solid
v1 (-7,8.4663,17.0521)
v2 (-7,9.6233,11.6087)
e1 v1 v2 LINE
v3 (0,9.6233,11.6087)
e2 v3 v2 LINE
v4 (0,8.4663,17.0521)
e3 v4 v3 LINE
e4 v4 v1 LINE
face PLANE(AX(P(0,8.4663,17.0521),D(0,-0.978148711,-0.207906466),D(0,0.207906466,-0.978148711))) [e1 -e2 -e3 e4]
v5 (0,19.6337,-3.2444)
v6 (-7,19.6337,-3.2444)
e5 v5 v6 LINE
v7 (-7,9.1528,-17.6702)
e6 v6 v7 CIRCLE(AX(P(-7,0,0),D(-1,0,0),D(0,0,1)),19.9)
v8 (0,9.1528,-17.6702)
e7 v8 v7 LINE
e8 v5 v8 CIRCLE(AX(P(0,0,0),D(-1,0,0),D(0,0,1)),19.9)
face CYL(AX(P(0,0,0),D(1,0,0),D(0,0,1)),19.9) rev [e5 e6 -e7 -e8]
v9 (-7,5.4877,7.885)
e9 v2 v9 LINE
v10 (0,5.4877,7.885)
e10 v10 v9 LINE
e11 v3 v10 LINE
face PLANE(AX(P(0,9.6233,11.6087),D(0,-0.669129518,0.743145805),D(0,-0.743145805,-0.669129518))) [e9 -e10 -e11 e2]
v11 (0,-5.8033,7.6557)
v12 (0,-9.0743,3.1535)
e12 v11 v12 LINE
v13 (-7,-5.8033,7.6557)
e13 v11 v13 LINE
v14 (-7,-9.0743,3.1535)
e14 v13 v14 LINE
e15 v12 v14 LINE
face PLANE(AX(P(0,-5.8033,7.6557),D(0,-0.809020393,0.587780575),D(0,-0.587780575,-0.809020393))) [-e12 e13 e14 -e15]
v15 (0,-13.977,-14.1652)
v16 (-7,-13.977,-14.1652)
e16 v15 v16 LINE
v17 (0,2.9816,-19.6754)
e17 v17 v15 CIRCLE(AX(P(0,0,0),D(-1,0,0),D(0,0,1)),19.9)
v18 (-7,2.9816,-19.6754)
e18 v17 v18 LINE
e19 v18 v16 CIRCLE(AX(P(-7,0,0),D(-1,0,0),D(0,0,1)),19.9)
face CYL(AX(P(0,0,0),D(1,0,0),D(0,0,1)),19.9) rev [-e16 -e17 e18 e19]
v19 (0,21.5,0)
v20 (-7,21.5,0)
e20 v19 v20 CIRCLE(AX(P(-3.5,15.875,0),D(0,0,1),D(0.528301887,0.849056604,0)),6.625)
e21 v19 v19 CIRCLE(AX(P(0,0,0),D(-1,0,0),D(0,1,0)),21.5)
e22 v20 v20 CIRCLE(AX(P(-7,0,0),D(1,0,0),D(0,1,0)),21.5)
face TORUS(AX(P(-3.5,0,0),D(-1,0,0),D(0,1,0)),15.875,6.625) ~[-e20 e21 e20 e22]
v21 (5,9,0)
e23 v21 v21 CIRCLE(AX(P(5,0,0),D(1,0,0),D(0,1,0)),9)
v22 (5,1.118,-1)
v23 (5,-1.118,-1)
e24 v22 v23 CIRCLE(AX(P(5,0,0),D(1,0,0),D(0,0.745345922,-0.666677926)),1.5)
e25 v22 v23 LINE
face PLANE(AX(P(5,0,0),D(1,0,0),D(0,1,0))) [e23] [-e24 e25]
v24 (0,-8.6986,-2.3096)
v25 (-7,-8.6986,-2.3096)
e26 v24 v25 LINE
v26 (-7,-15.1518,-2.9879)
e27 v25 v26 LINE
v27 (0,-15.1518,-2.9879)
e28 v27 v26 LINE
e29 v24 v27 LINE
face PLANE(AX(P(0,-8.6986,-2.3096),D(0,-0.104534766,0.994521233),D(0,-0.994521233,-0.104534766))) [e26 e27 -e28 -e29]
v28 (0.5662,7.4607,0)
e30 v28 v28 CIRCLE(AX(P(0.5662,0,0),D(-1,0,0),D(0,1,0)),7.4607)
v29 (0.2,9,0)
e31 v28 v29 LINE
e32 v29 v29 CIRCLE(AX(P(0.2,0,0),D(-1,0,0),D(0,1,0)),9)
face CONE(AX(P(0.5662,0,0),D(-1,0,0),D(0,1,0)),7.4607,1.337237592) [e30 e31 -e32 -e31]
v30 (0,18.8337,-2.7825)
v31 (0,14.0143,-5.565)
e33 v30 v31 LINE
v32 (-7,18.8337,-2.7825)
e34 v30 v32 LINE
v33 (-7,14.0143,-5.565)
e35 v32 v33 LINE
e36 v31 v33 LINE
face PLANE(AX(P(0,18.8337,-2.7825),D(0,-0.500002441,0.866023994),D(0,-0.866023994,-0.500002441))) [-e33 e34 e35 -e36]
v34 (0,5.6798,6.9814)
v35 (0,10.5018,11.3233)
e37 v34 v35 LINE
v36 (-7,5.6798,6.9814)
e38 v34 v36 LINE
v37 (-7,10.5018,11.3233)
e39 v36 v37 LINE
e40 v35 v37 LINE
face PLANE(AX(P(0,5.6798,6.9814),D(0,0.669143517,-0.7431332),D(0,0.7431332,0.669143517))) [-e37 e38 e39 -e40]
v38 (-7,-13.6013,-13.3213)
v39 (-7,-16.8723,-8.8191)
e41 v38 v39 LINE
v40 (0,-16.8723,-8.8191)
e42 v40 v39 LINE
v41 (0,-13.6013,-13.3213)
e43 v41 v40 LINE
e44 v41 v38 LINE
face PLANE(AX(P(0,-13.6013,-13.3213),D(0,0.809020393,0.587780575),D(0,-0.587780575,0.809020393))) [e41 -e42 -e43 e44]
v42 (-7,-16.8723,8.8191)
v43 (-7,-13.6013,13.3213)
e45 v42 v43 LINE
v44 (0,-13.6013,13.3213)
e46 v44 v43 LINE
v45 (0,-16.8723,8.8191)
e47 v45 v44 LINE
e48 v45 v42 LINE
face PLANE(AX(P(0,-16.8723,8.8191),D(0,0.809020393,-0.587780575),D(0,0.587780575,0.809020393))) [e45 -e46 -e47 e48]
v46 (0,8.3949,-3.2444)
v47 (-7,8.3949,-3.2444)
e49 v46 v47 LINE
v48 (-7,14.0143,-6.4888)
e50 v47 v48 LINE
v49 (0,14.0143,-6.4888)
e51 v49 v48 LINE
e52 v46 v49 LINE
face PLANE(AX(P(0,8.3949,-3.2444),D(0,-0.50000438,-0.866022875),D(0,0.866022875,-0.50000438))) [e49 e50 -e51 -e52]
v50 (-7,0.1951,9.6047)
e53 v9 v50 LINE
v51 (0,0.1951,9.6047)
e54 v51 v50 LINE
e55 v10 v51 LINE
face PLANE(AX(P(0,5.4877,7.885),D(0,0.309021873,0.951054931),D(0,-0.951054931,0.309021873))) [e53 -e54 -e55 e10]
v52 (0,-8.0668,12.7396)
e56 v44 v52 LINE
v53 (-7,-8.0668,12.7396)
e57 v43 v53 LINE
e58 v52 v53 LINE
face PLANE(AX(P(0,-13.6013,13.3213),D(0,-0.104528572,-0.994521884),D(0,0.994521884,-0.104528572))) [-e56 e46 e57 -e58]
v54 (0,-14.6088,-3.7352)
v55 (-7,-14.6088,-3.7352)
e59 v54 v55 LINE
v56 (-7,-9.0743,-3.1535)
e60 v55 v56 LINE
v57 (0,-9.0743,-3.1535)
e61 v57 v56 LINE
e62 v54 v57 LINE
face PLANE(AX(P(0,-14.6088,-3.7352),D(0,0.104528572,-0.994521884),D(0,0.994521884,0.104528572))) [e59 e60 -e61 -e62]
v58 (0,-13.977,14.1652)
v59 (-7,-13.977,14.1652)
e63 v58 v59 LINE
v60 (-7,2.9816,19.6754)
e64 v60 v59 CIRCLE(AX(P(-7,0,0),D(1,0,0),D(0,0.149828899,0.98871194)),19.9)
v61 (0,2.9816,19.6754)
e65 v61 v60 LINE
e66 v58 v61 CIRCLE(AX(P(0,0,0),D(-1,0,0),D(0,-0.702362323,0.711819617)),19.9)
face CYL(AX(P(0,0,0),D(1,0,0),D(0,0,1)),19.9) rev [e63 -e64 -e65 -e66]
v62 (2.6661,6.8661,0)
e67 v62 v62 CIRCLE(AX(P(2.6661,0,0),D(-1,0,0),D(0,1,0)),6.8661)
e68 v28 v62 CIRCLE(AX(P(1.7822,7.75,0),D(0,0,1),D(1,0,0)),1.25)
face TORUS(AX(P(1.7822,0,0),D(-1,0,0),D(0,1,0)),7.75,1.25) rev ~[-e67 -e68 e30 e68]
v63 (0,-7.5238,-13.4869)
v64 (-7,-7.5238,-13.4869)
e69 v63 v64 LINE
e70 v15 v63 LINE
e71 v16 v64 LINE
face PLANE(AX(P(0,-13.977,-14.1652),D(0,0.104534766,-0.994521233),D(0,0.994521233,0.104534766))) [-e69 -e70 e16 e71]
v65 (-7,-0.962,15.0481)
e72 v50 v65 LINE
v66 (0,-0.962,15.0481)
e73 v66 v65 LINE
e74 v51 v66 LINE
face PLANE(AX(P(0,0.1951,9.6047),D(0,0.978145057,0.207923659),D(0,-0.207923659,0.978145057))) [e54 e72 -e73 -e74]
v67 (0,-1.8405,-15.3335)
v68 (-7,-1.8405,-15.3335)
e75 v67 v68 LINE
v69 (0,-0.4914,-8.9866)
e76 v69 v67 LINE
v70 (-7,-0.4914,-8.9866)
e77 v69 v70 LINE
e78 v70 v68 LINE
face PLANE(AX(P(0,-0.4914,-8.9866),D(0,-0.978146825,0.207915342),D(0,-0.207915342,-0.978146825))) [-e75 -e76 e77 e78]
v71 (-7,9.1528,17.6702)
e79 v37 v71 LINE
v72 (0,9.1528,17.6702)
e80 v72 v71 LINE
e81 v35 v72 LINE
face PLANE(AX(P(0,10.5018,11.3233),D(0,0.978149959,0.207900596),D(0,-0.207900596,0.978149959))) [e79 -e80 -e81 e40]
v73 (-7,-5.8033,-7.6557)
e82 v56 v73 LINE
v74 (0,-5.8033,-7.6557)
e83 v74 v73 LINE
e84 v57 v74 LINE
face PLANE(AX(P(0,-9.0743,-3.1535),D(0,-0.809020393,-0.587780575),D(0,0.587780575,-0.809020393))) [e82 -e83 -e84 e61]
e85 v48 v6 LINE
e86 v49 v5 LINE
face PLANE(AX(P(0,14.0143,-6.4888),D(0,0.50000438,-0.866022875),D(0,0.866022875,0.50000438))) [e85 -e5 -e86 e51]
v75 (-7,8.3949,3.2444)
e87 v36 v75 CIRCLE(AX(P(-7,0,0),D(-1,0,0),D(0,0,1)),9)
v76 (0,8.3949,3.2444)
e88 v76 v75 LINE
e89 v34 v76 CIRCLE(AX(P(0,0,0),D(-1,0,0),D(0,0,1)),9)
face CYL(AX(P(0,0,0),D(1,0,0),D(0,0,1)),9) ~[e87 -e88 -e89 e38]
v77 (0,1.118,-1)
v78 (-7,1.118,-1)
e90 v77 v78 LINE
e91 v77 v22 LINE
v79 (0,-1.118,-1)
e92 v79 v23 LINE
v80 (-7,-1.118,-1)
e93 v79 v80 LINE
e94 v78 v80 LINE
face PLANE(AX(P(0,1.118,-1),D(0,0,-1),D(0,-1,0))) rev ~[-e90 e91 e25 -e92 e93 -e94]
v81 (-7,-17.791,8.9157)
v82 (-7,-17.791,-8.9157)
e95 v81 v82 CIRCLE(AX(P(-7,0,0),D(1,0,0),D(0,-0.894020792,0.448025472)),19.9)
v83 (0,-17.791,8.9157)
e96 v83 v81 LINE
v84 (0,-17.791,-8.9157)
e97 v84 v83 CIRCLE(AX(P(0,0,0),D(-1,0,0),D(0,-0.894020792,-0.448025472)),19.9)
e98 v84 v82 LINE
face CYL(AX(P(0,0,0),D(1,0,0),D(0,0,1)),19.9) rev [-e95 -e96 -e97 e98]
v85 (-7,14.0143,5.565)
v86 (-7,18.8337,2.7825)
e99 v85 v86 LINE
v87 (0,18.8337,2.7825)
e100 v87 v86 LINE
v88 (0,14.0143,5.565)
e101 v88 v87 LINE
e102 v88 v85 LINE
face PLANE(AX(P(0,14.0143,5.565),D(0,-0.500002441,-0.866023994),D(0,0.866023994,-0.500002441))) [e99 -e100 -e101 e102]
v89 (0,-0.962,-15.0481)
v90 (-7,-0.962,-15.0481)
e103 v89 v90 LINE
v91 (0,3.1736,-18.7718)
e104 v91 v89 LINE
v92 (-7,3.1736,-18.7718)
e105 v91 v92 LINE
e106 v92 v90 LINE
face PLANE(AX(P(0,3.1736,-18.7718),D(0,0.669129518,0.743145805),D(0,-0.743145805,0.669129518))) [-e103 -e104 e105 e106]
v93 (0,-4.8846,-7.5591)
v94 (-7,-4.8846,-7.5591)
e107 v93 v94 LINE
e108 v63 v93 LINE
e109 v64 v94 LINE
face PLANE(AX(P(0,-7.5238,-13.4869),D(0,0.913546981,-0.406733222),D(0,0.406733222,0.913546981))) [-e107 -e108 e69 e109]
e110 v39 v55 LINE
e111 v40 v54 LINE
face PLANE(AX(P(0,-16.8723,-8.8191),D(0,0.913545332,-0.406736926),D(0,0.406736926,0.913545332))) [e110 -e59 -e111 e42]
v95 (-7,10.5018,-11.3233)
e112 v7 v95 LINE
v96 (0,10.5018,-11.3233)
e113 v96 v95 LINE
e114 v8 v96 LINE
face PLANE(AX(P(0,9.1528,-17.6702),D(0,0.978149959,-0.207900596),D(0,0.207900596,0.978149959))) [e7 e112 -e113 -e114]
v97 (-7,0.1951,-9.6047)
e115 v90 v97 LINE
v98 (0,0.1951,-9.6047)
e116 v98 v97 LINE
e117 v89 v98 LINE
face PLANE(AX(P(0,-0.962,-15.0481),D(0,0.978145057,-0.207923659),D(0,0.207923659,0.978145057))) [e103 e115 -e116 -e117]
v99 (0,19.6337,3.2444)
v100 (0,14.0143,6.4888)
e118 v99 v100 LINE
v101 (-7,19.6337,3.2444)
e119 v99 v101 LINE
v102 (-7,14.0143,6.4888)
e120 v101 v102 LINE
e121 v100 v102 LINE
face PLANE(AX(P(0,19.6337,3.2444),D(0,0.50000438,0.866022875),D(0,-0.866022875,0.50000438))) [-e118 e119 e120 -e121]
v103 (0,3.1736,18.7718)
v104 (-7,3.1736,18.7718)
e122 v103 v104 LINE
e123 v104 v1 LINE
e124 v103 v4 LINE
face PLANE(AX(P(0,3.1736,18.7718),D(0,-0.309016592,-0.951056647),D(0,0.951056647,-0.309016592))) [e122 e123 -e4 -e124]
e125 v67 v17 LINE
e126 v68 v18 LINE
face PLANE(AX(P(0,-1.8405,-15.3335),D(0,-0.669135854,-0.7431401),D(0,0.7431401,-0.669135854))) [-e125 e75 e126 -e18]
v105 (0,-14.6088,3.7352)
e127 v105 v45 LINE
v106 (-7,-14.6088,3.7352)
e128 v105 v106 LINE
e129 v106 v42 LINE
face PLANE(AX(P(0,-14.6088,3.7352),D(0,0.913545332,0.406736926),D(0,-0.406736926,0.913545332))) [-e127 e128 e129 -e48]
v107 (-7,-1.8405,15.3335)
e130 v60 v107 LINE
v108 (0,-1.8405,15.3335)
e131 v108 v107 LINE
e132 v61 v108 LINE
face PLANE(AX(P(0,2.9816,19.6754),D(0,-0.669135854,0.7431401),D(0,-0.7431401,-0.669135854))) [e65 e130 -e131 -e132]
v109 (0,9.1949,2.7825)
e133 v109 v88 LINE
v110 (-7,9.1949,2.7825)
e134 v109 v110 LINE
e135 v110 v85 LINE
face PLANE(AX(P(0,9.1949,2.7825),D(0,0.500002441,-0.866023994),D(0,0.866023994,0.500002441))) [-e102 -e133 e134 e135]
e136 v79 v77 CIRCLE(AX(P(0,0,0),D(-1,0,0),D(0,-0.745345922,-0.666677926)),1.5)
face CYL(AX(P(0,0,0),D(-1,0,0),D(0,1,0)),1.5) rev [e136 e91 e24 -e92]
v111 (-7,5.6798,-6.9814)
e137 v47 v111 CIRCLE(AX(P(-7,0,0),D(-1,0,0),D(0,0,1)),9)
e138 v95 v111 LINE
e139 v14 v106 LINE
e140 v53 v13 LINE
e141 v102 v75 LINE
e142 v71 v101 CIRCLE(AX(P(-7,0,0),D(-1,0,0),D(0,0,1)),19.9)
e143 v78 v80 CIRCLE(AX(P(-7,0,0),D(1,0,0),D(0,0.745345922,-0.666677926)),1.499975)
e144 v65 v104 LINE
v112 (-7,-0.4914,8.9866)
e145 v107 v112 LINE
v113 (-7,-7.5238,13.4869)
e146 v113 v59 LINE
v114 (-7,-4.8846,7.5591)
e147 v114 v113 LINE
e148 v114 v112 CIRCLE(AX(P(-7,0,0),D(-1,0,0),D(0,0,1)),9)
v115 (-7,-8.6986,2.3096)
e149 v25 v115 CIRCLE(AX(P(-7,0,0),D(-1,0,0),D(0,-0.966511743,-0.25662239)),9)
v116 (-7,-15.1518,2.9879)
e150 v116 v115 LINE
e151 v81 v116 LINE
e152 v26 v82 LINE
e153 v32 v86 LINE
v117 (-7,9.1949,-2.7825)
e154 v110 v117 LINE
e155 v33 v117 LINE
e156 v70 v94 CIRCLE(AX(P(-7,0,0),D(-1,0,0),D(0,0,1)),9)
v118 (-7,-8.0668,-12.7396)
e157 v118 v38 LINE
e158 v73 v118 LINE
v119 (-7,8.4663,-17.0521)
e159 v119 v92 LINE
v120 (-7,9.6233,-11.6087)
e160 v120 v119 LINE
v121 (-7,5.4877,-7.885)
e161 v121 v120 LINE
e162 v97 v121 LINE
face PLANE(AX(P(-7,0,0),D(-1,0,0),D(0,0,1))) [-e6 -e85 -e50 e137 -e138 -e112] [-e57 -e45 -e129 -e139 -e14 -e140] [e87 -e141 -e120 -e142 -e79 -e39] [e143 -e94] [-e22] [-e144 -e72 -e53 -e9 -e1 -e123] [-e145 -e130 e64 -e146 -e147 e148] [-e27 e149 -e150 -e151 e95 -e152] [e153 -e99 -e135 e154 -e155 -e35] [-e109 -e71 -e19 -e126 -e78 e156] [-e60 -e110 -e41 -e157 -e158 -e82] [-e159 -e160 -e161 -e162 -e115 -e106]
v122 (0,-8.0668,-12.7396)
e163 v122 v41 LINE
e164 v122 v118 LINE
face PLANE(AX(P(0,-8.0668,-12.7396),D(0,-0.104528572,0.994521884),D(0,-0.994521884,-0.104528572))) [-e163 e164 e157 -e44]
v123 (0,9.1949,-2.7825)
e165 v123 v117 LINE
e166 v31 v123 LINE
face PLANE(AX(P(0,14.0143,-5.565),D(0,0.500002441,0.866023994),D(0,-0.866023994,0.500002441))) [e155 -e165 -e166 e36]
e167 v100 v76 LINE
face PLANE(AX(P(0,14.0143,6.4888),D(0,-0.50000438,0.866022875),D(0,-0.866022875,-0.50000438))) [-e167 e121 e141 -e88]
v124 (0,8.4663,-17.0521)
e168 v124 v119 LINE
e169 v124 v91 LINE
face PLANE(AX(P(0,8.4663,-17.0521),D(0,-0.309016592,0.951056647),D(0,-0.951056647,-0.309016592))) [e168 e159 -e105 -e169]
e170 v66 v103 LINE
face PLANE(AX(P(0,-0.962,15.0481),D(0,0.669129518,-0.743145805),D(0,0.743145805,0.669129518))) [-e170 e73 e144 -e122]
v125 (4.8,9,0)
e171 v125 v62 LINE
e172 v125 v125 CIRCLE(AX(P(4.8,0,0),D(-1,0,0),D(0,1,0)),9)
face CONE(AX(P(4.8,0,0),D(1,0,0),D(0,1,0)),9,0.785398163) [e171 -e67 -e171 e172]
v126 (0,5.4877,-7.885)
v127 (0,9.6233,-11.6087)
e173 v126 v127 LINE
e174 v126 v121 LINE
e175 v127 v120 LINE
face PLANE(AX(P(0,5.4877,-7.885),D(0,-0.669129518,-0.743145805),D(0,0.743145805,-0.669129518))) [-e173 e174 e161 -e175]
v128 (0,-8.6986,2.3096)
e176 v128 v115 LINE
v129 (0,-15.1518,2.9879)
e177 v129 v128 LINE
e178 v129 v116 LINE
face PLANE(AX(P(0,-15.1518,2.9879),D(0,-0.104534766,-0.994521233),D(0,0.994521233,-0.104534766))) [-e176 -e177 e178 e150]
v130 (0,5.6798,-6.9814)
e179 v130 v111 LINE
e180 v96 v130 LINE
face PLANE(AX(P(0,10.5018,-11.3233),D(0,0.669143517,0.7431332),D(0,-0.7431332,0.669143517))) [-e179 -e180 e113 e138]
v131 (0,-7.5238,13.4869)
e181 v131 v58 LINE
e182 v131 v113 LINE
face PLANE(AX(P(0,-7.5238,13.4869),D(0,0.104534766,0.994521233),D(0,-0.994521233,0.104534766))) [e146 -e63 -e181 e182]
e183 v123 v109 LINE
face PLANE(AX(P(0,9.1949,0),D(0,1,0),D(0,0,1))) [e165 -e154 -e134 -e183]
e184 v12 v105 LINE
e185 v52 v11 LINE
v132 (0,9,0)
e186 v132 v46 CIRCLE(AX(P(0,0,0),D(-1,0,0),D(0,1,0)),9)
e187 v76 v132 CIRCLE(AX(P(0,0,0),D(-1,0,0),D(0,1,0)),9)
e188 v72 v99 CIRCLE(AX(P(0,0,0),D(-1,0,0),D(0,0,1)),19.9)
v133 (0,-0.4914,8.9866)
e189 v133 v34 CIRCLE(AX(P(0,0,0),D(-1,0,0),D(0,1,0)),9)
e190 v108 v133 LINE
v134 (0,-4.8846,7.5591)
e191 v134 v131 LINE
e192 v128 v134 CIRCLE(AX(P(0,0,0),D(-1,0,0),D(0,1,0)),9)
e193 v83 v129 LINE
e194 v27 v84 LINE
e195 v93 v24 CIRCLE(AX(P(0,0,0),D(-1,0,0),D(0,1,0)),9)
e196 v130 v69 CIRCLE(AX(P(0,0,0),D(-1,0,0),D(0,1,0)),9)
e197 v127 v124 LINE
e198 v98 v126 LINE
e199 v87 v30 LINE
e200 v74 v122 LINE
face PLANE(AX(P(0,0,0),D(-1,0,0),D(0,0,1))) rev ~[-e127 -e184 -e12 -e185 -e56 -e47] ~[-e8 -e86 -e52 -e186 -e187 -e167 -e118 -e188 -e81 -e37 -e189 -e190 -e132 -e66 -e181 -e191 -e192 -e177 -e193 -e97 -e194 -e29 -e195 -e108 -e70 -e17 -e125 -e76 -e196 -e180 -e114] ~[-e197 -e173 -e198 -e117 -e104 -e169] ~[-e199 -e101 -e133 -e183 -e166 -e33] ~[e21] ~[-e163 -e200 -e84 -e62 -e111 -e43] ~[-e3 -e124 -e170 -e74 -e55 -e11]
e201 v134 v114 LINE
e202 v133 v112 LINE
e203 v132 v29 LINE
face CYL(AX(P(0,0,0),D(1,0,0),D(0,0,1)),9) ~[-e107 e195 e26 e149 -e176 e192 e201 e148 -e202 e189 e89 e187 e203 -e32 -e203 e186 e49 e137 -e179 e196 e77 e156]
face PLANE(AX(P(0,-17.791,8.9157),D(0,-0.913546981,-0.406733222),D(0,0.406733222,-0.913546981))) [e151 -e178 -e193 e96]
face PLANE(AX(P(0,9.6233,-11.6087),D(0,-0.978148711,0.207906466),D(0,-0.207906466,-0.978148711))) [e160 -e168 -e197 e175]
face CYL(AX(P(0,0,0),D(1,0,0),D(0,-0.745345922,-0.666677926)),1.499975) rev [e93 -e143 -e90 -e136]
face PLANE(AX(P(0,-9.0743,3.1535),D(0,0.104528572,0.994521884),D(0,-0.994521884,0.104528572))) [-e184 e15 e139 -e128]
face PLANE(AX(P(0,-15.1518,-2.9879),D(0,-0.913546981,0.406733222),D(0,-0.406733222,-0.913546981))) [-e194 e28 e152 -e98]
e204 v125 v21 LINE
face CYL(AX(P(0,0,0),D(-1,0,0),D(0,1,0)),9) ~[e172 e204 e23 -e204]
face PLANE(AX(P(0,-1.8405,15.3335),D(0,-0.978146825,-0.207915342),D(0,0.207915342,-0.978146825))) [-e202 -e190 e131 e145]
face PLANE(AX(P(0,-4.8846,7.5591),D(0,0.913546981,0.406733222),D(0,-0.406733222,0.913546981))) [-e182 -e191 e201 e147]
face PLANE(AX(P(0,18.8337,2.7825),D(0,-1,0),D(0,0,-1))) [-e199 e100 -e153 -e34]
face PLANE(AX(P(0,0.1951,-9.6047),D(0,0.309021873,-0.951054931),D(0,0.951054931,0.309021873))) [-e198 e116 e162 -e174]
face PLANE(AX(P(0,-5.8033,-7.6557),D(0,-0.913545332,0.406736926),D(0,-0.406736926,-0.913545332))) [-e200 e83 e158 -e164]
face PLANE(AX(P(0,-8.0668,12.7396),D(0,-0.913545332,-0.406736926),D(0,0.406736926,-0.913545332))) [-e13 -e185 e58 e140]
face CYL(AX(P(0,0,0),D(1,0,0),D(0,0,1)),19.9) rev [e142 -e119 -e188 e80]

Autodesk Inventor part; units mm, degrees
ref_plane "YZ Plane" through (0, 0, 0) normal (1, 0, 0) x (0, 1, 0)
ref_plane "XZ Plane" through (0, 0, 0) normal (0, 1, 0) x (-1, 0, 0)
ref_plane "XY Plane" through (0, 0, 0) normal (0, 0, 1) x (1, 0, 0)
sketch "Sketch1" plane through (0, 0, 0) normal (1, 0, 0) x (0, 1, 0)
  circle A0 centre (0, 0) radius 1.5
  line L0 (-30.1, 0) -> (30.1, 0) projected
  line L1 (1.118, -1) -> (-1.118, -1)
  circle A1 centre (0, 0) radius 9
  circle A2 centre (0, 0) radius 21.5
  circle A3 centre (0, 0) radius 18.5
  dimension "d0" = 3
  dimension "d1" = 1
  dimension "d3" = 43
  dimension "d4" = 3
  dimension "d6" = 18
extrude "Extrusion1" add sketch "Sketch1" along normal blind 5 contours L1 A0 | A0 L0 A1 | L0 A1 A0
sketch "Sketch3" plane through (0, 0, 0) normal (0, 0, 1) x (1, 0, 0)
  line L0 (0, 9) -> (5, 9) projected
  line L1 (-1, 0) -> (6, 0) projected
  circle A0 centre (1.7822, 7.75) radius 1.25
  line L2 (0.5662, 7.4607) -> (0.2, 9)
  line L3 (0, 9) -> (5, 9) projected
  line L4 (0, 10) -> (5, 10) projected
  line L5 (0, 9) -> (5, 9) projected
  line L6 (4.8, 9) -> (2.6661, 6.8661)
  line L7 (4.8, 9) -> (4.8, 9)
  line L8 (4.8, 9) -> (5, 9)
  line L9 (5, -9) -> (5, 9) projected
  line L10 (5, 9) -> (5, 9)
  line L11 (0, -9) -> (0, 9) projected
  line L12 (0.2, 9) -> (0, 9)
  point P0 (0, 0)
  point P1 (1.7822, 9)
  point P2 (4.8, 9)
  dimension "d20" = 2.5
  dimension "d26" = 45
  dimension "d28" = 0.2
revolve "Revolution1" cut sketch "Sketch3" angle 360 about axis through (-10, 0, 0) along (-1, 0, 0) contours L0 A0 L2 | L0 L6 A0 | A0
sketch "Sketch2" plane through (0, 0, 0) normal (-1, 0, 0) x (0, 0, 1)
  circle A0 centre (0, 0) radius 21.5
  circle A1 centre (0, 0) radius 19.9
  circle A2 centre (0, 0) radius 9 projected
  line L0 (-1, 1.118) -> (-1, -1.118) projected
  arc A3 (-1, -1.118) -> (-1, 1.118) centre (0, 0) ccw projected
  line L1 (3.2444, 19.6337) -> (6.4888, 14.0143)
  line L2 (6.4888, 14.0143) -> (3.2444, 8.3949)
  line L3 (3.2444, 8.3949) -> (-3.2444, 8.3949)
  line L4 (-3.2444, 8.3949) -> (-6.4888, 14.0143)
  line L5 (-6.4888, 14.0143) -> (-3.2444, 19.6337)
  line L6 (-3.2444, 19.6337) -> (3.2444, 19.6337)
  line L7 (0, -30.1) -> (0, 30.1) projected
  line L8 (-2.7825, 18.8337) -> (-5.565, 14.0143)
  line L9 (-5.565, 14.0143) -> (-2.7825, 9.1949)
  line L10 (-2.7825, 9.1949) -> (2.7825, 9.1949)
  line L11 (2.7825, 9.1949) -> (5.565, 14.0143)
  line L12 (5.565, 14.0143) -> (2.7825, 18.8337)
  line L13 (2.7825, 18.8337) -> (-2.7825, 18.8337)
  line L14 (-17.6702, 9.1528) -> (-11.3233, 10.5018)
  line L15 (-19.6754, 2.9816) -> (-17.6702, 9.1528)
  line L16 (-15.3335, -1.8405) -> (-19.6754, 2.9816)
  line L17 (-8.9866, -0.4914) -> (-15.3335, -1.8405)
  line L18 (-15.0481, -0.962) -> (-9.6047, 0.1951)
  line L19 (-9.6047, 0.1951) -> (-7.885, 5.4877)
  line L20 (-7.885, 5.4877) -> (-11.6087, 9.6233)
  line L21 (-11.3233, 10.5018) -> (-6.9814, 5.6798)
  line L22 (-6.9814, 5.6798) -> (-8.9866, -0.4914)
  line L23 (-11.6087, 9.6233) -> (-17.0521, 8.4663)
  line L24 (-17.0521, 8.4663) -> (-18.7718, 3.1736)
  line L25 (-18.7718, 3.1736) -> (-15.0481, -0.962)
  line L26 (-14.1652, -13.977) -> (-13.4869, -7.5238)
  line L27 (-8.9157, -17.791) -> (-14.1652, -13.977)
  line L28 (-2.9879, -15.1518) -> (-8.9157, -17.791)
  line L29 (-2.3096, -8.6986) -> (-2.9879, -15.1518)
  line L30 (-3.7352, -14.6088) -> (-3.1535, -9.0743)
  line L31 (-3.1535, -9.0743) -> (-7.6557, -5.8033)
  line L32 (-7.6557, -5.8033) -> (-12.7396, -8.0668)
  line L33 (-13.4869, -7.5238) -> (-7.5591, -4.8846)
  line L34 (-7.5591, -4.8846) -> (-2.3096, -8.6986)
  line L35 (-12.7396, -8.0668) -> (-13.3213, -13.6013)
  line L36 (-13.3213, -13.6013) -> (-8.8191, -16.8723)
  line L37 (-8.8191, -16.8723) -> (-3.7352, -14.6088)
  line L38 (8.9157, -17.791) -> (2.9879, -15.1518)
  line L39 (14.1652, -13.977) -> (8.9157, -17.791)
  line L40 (13.4869, -7.5238) -> (14.1652, -13.977)
  line L41 (7.5591, -4.8846) -> (13.4869, -7.5238)
  line L42 (12.7396, -8.0668) -> (7.6557, -5.8033)
  line L43 (7.6557, -5.8033) -> (3.1535, -9.0743)
  line L44 (3.1535, -9.0743) -> (3.7352, -14.6088)
  line L45 (2.9879, -15.1518) -> (2.3096, -8.6986)
  line L46 (2.3096, -8.6986) -> (7.5591, -4.8846)
  line L47 (3.7352, -14.6088) -> (8.8191, -16.8723)
  line L48 (8.8191, -16.8723) -> (13.3213, -13.6013)
  line L49 (13.3213, -13.6013) -> (12.7396, -8.0668)
  line L50 (19.6754, 2.9816) -> (15.3335, -1.8405)
  line L51 (17.6702, 9.1528) -> (19.6754, 2.9816)
  line L52 (11.3233, 10.5018) -> (17.6702, 9.1528)
  line L53 (6.9814, 5.6798) -> (11.3233, 10.5018)
  line L54 (11.6087, 9.6233) -> (7.885, 5.4877)
  line L55 (7.885, 5.4877) -> (9.6047, 0.1951)
  line L56 (9.6047, 0.1951) -> (15.0481, -0.962)
  line L57 (15.3335, -1.8405) -> (8.9866, -0.4914)
  line L58 (8.9866, -0.4914) -> (6.9814, 5.6798)
  line L59 (15.0481, -0.962) -> (18.7718, 3.1736)
  line L60 (18.7718, 3.1736) -> (17.0521, 8.4663)
  line L61 (17.0521, 8.4663) -> (11.6087, 9.6233)
  point P0 (0, 14.0143)
  point P1 (3.2444, 8.3949)
  point P2 (-17.6702, 9.1528)
  point P3 (-6.9814, 5.6798)
  point P4 (-19.6754, 2.9816)
  point P5 (-8.9866, -0.4914)
  point P6 (-7.5591, -4.8846)
  point P7 (-14.1652, -13.977)
  point P8 (-8.9157, -17.791)
  point P9 (-2.3096, -8.6986)
  point P10 (2.3096, -8.6986)
  point P11 (8.9157, -17.791)
  point P12 (14.1652, -13.977)
  point P13 (7.5591, -4.8846)
  point P14 (8.9866, -0.4914)
  point P15 (19.6754, 2.9816)
  point P16 (17.6702, 9.1528)
  point P17 (6.9814, 5.6798)
  dimension "d9" = 43
  dimension "d10" = 1.6
  dimension "d11" = 0.8
  dimension "d31" = 360
extrude "Extrusion2" add sketch "Sketch2" along normal blind 7 contours A0 L7 A1 | L7 A1 A0 | L7 L6 A1 | A1 L6 L7 | L1 L2 A2 L7 L10 L11 L12 L13 L6 | L6 L7 L13 L8 L9 L10 A2 L4 L5 | A1 L27 | L27 L26 L33 A2 L29 L28 | L39 A1 | L38 L45 A2 L41 L40 L39 | L7 A3 L3 A2 L58 L46 | A2 L34 L22 L3 L7 A3 L0 | A1 L51 | L51 L50 L57 A2 L53 L52 | L15 A1 | L14 L21 A2 L17 L16 L15 | A2 L34 | L46 A2 | L3 L7 A2 | A2 L7 L3 | A2 L58 | L22 A2
sketch "Sketch4" plane through (0, 0, 0) normal (0, 0, 1) x (1, 0, 0)
  line L0 (0, 21.5) -> (-7, 21.5) projected
  line L1 (-7, 21.5) -> (-7, -21.5) projected
  arc A0 (0, 21.5) -> (-7, 21.5) centre (-3.5, 15.875) ccw
  line L2 (-8.4, 0) -> (1.4, 0) projected
  point P0 (0, 0)
  point P1 (-3.5, 22.5)
  dimension "d24" = 1
revolve "Revolution2" add sketch "Sketch4" angle 360 about axis through (-10, 0, 0) along (1, 0, 0)
equation "\"d6\" = WheelGrooveDia"
equation "\"d7\" = WheelGrooveWidth"
equation "\"d20\" = WheelPulleyDia"
equation "\"d9\" = WheelDia - 2 * Roundedness"
equation "\"d16\" = WheelWidth"
equation "\"d24\" = Roundedness"
equation "\"Roundedness\" = 1"
equation "\"WheelGrooveDia\" = 18"
equation "\"WheelGrooveWidth\" = 5"
equation "\"WheelPulleyDia\" = 2.5"
equation "\"WheelDia\" = 45"
equation "\"WheelWidth\" = 7"
properties part number "PulleyedWheelV1" material "H TPU"
